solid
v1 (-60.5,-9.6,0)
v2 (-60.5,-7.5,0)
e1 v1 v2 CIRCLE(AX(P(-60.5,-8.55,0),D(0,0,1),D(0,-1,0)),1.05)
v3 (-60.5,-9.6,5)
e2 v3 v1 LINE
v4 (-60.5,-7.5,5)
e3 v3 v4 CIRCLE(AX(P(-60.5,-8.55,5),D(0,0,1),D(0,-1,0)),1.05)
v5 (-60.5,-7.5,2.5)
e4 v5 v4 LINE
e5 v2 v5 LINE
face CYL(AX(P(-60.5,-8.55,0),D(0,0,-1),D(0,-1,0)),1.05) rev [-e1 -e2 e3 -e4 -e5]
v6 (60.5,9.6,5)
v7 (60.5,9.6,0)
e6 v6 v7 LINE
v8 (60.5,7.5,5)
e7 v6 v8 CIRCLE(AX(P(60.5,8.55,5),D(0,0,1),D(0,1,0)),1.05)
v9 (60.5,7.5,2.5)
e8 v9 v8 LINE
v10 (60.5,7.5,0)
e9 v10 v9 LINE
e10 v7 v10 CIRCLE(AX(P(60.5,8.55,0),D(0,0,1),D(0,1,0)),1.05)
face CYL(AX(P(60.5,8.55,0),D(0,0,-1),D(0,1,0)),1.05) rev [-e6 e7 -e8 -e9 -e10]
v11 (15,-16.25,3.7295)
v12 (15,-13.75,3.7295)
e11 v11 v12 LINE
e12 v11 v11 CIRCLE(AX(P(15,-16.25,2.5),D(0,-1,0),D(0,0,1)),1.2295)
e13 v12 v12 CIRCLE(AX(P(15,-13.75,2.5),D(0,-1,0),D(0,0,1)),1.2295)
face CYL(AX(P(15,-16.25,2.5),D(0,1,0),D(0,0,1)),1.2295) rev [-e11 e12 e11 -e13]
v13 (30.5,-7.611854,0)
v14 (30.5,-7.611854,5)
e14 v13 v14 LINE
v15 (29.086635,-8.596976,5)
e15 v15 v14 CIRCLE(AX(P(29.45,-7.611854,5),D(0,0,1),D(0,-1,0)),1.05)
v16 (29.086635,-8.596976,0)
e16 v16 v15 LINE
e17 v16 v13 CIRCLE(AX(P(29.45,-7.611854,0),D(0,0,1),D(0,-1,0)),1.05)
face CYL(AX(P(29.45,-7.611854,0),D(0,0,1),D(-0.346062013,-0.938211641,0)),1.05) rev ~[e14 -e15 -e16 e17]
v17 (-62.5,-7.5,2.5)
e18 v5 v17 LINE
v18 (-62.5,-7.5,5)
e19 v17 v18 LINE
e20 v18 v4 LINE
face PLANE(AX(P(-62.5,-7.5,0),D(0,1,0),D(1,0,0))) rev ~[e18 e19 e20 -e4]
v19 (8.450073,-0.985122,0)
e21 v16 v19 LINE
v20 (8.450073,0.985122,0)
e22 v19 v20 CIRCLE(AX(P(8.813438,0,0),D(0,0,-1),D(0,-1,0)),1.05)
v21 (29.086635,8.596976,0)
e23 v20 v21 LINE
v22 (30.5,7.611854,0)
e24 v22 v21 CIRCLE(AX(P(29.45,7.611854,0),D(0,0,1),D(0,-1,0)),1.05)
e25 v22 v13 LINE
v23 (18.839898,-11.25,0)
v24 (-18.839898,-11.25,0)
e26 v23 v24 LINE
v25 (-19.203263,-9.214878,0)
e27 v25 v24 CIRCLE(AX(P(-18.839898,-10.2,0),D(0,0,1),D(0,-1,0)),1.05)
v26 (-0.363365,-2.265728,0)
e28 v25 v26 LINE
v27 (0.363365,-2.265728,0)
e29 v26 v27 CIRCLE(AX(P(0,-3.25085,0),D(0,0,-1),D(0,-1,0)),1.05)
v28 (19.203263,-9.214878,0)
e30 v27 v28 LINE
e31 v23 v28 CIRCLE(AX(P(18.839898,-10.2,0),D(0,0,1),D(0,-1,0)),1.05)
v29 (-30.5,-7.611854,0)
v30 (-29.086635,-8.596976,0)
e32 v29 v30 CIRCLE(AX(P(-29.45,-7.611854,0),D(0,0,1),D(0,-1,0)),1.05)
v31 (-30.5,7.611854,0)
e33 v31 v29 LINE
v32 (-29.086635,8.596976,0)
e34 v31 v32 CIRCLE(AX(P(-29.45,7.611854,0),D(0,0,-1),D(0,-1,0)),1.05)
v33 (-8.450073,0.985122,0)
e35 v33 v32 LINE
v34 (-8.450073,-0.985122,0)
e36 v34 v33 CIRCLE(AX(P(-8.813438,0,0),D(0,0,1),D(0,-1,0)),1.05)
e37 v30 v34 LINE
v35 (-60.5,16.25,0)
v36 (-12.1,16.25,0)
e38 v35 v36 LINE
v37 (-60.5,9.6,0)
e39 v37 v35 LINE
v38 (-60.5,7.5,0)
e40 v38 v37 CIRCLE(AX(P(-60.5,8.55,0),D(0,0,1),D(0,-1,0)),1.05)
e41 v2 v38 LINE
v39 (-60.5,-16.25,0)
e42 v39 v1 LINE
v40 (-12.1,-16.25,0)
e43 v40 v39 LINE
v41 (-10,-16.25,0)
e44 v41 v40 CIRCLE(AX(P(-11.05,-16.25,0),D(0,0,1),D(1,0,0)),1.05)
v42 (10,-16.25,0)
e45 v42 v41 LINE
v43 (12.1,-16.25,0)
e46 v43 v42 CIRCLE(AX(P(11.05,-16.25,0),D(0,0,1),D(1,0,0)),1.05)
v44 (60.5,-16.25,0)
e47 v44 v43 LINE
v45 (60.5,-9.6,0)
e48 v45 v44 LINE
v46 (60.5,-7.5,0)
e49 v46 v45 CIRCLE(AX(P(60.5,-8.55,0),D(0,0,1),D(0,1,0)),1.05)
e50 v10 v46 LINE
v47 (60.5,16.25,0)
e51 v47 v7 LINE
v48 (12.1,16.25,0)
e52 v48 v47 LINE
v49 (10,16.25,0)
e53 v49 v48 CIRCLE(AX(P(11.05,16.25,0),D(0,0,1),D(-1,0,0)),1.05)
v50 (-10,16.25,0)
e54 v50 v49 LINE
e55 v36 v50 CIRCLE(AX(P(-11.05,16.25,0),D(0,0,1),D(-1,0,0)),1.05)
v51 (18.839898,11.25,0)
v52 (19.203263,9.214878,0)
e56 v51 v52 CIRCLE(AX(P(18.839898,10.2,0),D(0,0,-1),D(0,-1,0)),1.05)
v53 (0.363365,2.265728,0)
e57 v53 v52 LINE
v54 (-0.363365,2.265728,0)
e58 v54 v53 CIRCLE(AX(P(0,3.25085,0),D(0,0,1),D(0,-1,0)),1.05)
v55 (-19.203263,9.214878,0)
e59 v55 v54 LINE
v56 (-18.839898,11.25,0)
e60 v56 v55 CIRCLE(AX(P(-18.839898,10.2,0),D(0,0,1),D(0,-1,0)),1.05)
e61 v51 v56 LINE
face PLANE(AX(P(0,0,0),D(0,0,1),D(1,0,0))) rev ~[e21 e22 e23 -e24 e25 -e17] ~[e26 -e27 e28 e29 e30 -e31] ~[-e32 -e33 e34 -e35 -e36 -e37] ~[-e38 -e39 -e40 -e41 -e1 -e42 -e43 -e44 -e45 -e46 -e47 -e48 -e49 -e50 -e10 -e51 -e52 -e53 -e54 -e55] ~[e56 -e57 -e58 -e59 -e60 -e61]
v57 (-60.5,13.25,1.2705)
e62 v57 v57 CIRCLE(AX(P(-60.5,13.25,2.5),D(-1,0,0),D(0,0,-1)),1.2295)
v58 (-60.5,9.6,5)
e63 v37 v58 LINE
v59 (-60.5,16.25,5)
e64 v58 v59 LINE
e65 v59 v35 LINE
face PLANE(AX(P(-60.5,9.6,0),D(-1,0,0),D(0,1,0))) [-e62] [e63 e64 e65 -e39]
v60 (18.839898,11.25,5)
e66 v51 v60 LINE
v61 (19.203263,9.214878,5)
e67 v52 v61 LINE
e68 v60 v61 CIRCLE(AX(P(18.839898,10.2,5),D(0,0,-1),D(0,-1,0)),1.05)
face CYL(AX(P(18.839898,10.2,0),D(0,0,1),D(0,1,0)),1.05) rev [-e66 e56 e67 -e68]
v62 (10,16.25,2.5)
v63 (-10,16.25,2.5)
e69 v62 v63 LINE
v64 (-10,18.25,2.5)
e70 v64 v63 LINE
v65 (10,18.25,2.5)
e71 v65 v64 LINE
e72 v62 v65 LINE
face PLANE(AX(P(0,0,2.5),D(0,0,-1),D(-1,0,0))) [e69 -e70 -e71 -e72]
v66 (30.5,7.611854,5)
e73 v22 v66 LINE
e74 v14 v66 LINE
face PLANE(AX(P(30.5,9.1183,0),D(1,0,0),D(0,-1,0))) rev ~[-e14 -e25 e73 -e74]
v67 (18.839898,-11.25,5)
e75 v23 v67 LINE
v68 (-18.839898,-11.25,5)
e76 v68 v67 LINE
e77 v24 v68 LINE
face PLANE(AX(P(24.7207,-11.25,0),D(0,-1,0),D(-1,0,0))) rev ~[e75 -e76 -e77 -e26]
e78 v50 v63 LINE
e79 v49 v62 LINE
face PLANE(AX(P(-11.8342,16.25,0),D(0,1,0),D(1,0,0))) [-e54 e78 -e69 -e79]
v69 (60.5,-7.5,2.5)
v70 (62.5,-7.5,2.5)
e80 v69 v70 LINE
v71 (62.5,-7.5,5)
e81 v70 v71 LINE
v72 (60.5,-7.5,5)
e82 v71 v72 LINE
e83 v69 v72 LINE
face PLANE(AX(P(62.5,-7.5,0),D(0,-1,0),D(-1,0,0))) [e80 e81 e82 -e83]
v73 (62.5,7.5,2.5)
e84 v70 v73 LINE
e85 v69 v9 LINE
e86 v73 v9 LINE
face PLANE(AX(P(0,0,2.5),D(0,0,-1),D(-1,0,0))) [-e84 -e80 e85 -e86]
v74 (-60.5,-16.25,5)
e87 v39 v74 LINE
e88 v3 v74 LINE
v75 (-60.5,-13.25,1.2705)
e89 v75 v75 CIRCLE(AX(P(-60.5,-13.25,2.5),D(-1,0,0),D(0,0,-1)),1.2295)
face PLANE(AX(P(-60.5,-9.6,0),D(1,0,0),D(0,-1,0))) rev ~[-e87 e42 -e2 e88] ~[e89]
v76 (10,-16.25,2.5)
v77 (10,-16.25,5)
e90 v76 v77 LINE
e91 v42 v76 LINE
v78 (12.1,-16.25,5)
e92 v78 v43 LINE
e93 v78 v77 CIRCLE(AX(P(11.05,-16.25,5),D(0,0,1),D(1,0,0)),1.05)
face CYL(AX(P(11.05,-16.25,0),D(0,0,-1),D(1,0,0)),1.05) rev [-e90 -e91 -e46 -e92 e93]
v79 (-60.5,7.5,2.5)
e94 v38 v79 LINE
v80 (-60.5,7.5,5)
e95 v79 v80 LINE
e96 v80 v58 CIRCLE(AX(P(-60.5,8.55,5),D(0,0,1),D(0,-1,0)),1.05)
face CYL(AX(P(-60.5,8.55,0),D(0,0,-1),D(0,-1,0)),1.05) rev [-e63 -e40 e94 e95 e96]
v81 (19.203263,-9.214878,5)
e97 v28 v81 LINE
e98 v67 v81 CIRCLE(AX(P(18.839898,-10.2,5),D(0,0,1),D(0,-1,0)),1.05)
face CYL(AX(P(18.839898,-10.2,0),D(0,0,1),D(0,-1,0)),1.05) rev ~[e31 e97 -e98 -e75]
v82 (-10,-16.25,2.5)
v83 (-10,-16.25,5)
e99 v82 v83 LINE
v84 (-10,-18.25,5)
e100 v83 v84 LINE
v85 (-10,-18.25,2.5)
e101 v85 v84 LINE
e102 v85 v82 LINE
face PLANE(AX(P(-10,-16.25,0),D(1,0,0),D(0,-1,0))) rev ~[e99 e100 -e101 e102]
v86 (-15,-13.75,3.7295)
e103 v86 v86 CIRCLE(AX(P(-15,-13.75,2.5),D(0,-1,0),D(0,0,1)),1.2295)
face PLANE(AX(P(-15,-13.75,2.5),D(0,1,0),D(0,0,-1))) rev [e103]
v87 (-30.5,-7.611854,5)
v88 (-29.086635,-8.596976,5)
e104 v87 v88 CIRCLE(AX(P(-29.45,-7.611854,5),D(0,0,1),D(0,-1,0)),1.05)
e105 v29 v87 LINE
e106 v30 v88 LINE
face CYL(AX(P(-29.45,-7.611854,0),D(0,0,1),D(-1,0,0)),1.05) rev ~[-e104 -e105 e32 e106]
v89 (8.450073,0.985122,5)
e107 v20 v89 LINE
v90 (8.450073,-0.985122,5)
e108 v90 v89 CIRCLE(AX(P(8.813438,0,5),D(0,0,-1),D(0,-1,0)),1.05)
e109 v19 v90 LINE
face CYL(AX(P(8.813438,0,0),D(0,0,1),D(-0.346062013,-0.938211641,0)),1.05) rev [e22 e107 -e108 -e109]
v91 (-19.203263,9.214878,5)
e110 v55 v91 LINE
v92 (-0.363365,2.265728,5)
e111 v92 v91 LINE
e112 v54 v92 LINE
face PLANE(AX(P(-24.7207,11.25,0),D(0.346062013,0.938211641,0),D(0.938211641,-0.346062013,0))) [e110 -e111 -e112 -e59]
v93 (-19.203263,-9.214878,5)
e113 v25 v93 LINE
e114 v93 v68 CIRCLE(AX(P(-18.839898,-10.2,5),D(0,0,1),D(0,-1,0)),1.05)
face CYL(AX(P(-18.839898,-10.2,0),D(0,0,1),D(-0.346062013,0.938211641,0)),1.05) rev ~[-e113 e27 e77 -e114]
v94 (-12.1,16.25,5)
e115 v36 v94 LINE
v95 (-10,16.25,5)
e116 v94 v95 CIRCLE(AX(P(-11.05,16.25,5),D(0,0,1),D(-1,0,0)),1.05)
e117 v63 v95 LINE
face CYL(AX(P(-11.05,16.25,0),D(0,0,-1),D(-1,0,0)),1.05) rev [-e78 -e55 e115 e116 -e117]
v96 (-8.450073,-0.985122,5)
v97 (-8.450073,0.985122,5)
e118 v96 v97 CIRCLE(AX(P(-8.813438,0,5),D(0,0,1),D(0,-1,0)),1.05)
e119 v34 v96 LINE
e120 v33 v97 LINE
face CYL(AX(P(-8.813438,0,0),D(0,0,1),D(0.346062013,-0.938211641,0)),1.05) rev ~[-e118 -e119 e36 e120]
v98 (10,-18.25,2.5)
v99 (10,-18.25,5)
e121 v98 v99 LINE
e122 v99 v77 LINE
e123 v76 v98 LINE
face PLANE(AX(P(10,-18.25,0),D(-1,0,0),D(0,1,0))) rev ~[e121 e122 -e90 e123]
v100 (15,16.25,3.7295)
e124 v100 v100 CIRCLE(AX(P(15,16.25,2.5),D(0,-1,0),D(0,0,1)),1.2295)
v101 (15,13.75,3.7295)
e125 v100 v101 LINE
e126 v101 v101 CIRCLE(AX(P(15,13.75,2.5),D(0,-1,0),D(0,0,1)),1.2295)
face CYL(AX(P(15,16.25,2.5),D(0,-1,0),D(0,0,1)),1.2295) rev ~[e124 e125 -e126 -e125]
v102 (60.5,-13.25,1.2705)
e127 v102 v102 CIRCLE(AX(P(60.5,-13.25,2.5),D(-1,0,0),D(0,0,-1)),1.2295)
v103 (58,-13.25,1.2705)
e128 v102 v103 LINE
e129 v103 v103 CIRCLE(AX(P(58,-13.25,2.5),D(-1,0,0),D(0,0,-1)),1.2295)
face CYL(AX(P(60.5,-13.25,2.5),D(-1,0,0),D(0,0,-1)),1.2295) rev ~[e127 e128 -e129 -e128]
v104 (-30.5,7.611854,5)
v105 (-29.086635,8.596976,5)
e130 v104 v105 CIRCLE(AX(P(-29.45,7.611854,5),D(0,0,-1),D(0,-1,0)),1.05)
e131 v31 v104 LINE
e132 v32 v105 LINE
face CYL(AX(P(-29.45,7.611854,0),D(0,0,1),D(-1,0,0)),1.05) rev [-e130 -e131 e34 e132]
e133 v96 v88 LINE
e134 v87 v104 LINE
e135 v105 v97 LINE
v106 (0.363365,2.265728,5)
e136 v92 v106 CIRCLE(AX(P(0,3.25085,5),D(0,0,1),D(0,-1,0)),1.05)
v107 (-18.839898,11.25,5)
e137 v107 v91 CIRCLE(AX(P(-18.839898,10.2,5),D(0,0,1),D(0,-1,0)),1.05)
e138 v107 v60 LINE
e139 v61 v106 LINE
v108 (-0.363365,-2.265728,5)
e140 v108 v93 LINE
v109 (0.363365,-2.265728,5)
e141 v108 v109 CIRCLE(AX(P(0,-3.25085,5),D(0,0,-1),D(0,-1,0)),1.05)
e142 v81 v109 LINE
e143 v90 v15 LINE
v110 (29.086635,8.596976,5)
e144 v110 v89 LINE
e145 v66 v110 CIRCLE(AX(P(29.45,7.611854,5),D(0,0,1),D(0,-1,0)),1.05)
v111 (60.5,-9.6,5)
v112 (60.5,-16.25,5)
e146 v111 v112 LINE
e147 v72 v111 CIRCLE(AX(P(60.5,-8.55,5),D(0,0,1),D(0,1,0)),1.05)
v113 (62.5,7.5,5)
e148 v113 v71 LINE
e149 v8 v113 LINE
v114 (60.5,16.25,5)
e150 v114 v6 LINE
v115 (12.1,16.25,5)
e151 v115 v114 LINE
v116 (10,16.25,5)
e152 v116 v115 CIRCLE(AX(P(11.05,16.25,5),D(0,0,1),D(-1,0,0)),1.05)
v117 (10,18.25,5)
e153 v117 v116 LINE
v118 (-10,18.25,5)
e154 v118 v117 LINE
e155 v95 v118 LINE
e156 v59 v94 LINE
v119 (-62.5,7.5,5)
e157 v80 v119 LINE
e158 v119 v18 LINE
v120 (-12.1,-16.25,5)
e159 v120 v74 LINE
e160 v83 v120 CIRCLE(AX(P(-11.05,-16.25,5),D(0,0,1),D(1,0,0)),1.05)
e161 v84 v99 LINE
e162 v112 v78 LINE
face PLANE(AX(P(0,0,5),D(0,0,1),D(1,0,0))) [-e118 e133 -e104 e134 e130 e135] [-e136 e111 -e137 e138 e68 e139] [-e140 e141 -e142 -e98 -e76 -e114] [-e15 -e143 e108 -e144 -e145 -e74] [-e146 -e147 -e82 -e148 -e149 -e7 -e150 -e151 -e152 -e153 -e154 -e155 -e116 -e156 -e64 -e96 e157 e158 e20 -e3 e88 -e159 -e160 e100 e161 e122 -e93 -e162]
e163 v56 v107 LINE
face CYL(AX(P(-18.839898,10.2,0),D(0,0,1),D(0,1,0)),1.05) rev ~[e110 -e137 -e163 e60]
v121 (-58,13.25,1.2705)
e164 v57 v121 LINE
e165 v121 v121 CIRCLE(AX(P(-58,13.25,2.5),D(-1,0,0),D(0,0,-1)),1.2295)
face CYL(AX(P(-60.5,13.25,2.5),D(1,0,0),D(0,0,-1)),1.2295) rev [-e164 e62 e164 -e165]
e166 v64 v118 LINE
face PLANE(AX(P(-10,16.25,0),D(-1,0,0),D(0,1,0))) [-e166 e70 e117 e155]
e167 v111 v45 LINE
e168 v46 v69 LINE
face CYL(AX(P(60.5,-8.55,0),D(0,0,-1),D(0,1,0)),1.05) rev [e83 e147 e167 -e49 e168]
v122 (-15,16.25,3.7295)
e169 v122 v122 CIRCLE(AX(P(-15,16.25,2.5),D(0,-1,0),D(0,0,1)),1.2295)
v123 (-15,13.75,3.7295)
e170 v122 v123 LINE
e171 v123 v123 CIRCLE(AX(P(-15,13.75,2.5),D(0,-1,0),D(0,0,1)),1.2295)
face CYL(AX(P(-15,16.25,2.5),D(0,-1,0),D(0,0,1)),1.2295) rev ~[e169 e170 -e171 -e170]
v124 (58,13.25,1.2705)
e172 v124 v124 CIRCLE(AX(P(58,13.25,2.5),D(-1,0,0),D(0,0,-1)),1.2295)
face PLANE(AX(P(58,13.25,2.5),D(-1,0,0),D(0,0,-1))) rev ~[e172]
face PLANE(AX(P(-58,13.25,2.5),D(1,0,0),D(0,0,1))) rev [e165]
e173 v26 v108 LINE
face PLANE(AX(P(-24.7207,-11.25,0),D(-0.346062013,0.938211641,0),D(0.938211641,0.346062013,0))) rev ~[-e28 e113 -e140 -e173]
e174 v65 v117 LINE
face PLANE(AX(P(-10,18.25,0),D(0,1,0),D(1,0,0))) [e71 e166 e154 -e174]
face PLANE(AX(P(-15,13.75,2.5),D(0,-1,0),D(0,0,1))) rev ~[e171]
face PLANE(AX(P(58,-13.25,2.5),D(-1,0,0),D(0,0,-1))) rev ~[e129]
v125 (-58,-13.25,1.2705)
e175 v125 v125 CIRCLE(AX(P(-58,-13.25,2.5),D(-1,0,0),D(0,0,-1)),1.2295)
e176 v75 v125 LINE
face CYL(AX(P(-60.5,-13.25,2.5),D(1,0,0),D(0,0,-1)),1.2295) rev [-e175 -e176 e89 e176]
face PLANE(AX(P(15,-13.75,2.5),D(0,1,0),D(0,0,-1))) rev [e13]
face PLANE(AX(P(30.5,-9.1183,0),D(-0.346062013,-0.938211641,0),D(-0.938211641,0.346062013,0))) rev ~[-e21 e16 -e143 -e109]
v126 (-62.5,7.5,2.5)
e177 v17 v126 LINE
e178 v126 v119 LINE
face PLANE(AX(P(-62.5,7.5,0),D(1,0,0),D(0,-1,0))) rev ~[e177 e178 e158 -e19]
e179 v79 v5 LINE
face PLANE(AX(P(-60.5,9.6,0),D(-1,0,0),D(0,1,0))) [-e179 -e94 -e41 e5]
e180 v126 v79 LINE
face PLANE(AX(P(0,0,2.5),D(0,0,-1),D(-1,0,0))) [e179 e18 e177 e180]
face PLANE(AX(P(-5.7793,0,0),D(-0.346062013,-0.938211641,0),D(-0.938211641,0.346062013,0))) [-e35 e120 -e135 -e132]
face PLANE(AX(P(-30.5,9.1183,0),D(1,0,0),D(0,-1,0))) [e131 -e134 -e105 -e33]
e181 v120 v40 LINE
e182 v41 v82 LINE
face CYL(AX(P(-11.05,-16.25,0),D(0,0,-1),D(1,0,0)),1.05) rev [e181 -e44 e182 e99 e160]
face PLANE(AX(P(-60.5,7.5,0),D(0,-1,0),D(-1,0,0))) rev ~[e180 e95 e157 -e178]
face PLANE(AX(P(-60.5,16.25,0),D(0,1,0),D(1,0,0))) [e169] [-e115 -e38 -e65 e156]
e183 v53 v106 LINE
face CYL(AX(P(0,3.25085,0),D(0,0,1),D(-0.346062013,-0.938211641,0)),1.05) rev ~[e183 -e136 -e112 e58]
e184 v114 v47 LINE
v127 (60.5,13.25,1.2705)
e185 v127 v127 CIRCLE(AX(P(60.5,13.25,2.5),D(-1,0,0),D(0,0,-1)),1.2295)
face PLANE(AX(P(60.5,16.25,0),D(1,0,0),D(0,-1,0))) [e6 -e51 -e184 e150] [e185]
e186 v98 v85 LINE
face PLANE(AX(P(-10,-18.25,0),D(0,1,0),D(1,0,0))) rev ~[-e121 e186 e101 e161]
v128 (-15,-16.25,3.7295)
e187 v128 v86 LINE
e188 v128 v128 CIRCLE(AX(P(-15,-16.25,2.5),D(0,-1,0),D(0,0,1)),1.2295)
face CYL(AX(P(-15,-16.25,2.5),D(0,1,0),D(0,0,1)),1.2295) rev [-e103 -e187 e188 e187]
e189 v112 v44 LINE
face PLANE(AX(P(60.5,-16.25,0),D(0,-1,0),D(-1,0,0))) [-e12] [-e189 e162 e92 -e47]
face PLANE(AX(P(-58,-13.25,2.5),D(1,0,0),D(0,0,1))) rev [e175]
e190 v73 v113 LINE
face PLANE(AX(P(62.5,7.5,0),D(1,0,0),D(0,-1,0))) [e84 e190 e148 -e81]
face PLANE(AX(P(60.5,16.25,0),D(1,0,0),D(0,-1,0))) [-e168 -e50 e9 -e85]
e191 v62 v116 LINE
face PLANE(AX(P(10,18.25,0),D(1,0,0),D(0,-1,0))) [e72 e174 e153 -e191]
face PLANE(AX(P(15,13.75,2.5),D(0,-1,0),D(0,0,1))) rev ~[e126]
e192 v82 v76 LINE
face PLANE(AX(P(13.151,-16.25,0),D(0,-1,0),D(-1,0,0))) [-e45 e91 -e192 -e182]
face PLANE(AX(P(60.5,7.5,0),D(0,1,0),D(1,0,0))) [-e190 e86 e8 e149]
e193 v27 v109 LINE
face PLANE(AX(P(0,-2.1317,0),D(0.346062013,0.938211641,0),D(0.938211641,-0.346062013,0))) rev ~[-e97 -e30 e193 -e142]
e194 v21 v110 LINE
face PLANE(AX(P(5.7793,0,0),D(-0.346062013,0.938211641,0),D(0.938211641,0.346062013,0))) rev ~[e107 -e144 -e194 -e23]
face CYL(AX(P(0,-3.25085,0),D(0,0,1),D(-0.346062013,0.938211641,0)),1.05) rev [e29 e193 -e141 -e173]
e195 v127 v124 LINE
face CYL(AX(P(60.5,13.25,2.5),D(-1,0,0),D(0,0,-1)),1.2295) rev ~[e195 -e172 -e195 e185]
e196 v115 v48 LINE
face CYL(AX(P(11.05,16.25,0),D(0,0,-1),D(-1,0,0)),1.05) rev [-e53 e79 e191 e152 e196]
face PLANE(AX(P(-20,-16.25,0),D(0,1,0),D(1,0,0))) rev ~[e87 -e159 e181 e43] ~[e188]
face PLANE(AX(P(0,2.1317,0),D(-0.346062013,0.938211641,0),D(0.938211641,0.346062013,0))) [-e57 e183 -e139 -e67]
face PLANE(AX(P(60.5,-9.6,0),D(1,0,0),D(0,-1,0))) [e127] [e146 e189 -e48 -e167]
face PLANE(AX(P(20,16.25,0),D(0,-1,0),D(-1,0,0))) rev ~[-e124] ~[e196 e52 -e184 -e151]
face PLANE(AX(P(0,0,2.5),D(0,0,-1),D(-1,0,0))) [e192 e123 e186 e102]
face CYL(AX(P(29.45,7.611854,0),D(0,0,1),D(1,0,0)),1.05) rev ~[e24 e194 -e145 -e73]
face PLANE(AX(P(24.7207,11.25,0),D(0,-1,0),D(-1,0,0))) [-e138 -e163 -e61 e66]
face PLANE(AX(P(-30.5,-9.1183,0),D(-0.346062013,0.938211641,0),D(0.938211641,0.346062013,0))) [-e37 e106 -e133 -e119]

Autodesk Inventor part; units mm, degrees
ref_plane "YZ Plane" through (0, 0, 0) normal (1, 0, 0) x (0, 1, 0)
ref_plane "XZ Plane" through (0, 0, 0) normal (0, 1, 0) x (-1, 0, 0)
ref_plane "XY Plane" through (0, 0, 0) normal (0, 0, 1) x (1, 0, 0)
sketch "スケッチ1" plane through (0, 0, 0) normal (0, 0, 1) x (1, 0, 0)
  line L0 (-60.5, 9.6) -> (-60.5, 16.25)
  line L1 (-60.5, 16.25) -> (-20, 16.25)
  line L2 (20, 16.25) -> (60.5, 16.25)
  line L3 (60.5, 16.25) -> (60.5, 9.6)
  line L4 (0, 0) -> (0, 16.25) construction
  line L5 (0, 0) -> (62.5, 0) construction
  line L6 (60.5, 7.5) -> (62.5, 7.5)
  line L7 (62.5, 7.5) -> (62.5, -7.5)
  line L8 (62.5, -7.5) -> (60.5, -7.5)
  line L9 (-20, -16.25) -> (20, -16.25) construction
  line L10 (20, -16.25) -> (20, 16.25) construction
  line L11 (20, 16.25) -> (-20, 16.25) construction
  line L12 (-20, 16.25) -> (-20, -16.25) construction
  line L13 (-20, -16.25) -> (20, 16.25) construction
  line L14 (20, -16.25) -> (-20, 16.25) construction
  line L15 (-60.5, -16.25) -> (60.5, -16.25) construction
  line L16 (60.5, -16.25) -> (60.5, 16.25) construction
  line L17 (60.5, 16.25) -> (-60.5, 16.25) construction
  line L18 (-60.5, 16.25) -> (-60.5, -16.25) construction
  line L19 (-60.5, -16.25) -> (60.5, 16.25) construction
  line L20 (60.5, -16.25) -> (-60.5, 16.25) construction
  arc A0 (60.5, 9.6) -> (60.5, 7.5) centre (60.5, 8.55) ccw
  arc A1 (60.5, -7.5) -> (60.5, -9.6) centre (60.5, -8.55) ccw
  line L21 (60.5, -9.6) -> (60.5, -16.25)
  line L22 (60.5, -16.25) -> (20, -16.25)
  line L23 (20, -16.25) -> (12.1, -16.25)
  line L24 (-20, 16.25) -> (-12.1, 16.25)
  line L25 (-10, 16.25) -> (-10, 18.25)
  line L26 (-10, 18.25) -> (10, 18.25)
  line L27 (10, 18.25) -> (10, 16.25)
  line L28 (20, 16.25) -> (12.1, 16.25)
  arc A2 (-12.1, 16.25) -> (-10, 16.25) centre (-11.05, 16.25) ccw
  arc A3 (10, 16.25) -> (12.1, 16.25) centre (11.05, 16.25) ccw
  line L29 (-60.5, 7.5) -> (-62.5, 7.5)
  line L30 (-62.5, 7.5) -> (-62.5, -7.5)
  line L31 (-62.5, -7.5) -> (-60.5, -7.5)
  arc A4 (-60.5, 7.5) -> (-60.5, 9.6) centre (-60.5, 8.55) ccw
  arc A5 (-60.5, -9.6) -> (-60.5, -7.5) centre (-60.5, -8.55) ccw
  line L32 (-60.5, -9.6) -> (-60.5, -16.25)
  line L33 (-60.5, -16.25) -> (-20, -16.25)
  line L34 (-20, -16.25) -> (-12.1, -16.25)
  line L35 (-10, -16.25) -> (-10, -18.25)
  line L36 (-10, -18.25) -> (10, -18.25)
  line L37 (10, -18.25) -> (10, -16.25)
  arc A6 (-10, -16.25) -> (-12.1, -16.25) centre (-11.05, -16.25) ccw
  arc A7 (12.1, -16.25) -> (10, -16.25) centre (11.05, -16.25) ccw
  line L38 (-16.55, 19.1799) -> (-13.45, 19.1799) construction
  line L39 (-13.45, 19.1799) -> (-13.45, 12.4242) construction
  line L40 (-13.45, 12.4242) -> (-16.55, 12.4242) construction
  line L41 (-16.55, 12.4242) -> (-16.55, 19.1799) construction
  line L42 (-15, 19.1799) -> (-15, 12.4242) construction
  point P0 (0, 18.25)
  point P1 (0, 0)
  dimension "d0" = 1.05
  dimension "d1" = 32.5
  dimension "d2" = 121
  dimension "d3" = 40
  dimension "d23" = 2
  dimension "d30" = 2
  dimension "d34" = 8.75
  dimension "d53" = 20
  dimension "d54" = 3.1
  dimension "d55" = 5
  dimension "d85" = 32.5
extrude "押し出し1" add sketch "スケッチ1" along normal blind 5
sketch "スケッチ2" plane through (0, 0, 0) normal (0, 0, -1) x (-1, 0, 0)
  line L0 (60.5, 9.6) -> (60.5, 16.25) projected
  line L1 (-60.5, 16.25) -> (-60.5, 9.6) projected
  line L2 (-68.6427, 17.3125) -> (-60.5, 17.3125)
  line L3 (-60.5, 17.3125) -> (-60.5, -16.751)
  line L4 (-60.5, -16.751) -> (-68.6427, -16.751)
  line L5 (-68.6427, -16.751) -> (-68.6427, 17.3125)
  line L6 (60.5, 21.1805) -> (66.358, 21.1805)
  line L7 (66.358, 21.1805) -> (66.358, -13.6193)
  line L8 (66.358, -13.6193) -> (60.5, -13.6193)
  line L9 (60.5, -13.6193) -> (60.5, 21.1805)
  line L10 (-20, -16.25) -> (-12.1, -16.25)
  line L11 (-17.1371, 25.1848) -> (11.8342, 25.1848)
  line L12 (11.8342, 25.1848) -> (11.8342, 16.25)
  line L13 (11.8342, 16.25) -> (-17.1371, 16.25)
  line L14 (-17.1371, 16.25) -> (-17.1371, 25.1848)
  line L15 (-13.151, -21.5857) -> (17.7795, -21.5857)
  line L16 (17.7795, -21.5857) -> (17.7795, -16.25)
  line L17 (17.7795, -16.25) -> (-13.151, -16.25)
  line L18 (-13.151, -16.25) -> (-13.151, -21.5857)
  line L19 (-12.1, 16.25) -> (-60.5, 16.25)
  line L20 (-60.5, -16.25) -> (-12.1, -16.25)
  point P0 (0, 0)
extrude "押し出し2" cut sketch "スケッチ2" against normal blind 2.5
sketch "スケッチ3" plane through (12.1, 16.25, 0) normal (0, 1, 0) x (1, 0, 0)
  line L0 (-2.1, 0) -> (-2.1, -5) projected
  line L1 (-2.1, -5) -> (-22.1, -5) construction
  line L2 (-12.1, -5) -> (-12.1, 7.4607) construction
  line L3 (48.4, 0) -> (48.4, -5) projected
  point P0 (-12.1, 0)
  point P1 (2.9, -2.5)
  point P2 (-27.1, -2.5)
  point P3 (48.4, -2.5)
  dimension "d60" = 5
hole "穴1" at (15, 16.25, 2.5) at (-15, 16.25, 2.5) direction (0, -1, 0) diameter 2.459 depth 2.5 thread size "M3x0.5" class "6H" standard "ISO Metric profile"
mirror "ミラー1" about plane through (0, 0, 0) normal (0, 1, 0) of "穴1"
sketch "スケッチ4" plane through (60.5, -16.25, 5) normal (1, 0, 0) x (0, 0, -1)
  line L0 (5, 16.25) -> (0, 16.25) construction
  line L1 (0, 23.75) -> (0, 8.75) construction
  line L2 (5, 6.65) -> (0, 6.65) projected
  line L3 (5, 0) -> (0, 0) projected
  point P0 (2.5, 3)
  point P1 (2.5, 29.5)
  point P2 (2.5, 6.65)
  dimension "d86" = 3
  dimension "d87" = 26.5
hole "穴2" at (60.5, -13.25, 2.5) at (60.5, 13.25, 2.5) direction (-1, 0, 0) diameter 2.459 depth 2.5 thread size "M3x0.5" class "6H" standard "ISO Metric profile"
mirror "ミラー2" about plane through (0, 0, 0) normal (1, 0, 0) of "穴2"
sketch "スケッチ5" plane through (0, 0, 0) normal (0, 0, -1) x (-1, 0, 0)
  line L0 (10, 16.25) -> (-10, 16.25) projected
  line L1 (-60.5, 7.5) -> (-60.5, 9.6) projected
  line L2 (-30.5, -11.25) -> (30.5, -11.25) construction
  line L3 (30.5, -11.25) -> (30.5, 11.25) construction
  line L4 (30.5, 11.25) -> (-30.5, 11.25) construction
  line L5 (-30.5, 11.25) -> (-30.5, -11.25) construction
  line L6 (-30.5, -11.25) -> (30.5, 11.25) construction
  line L7 (30.5, -11.25) -> (-30.5, 11.25) construction
  line L8 (-30.5, 9.1183) -> (-30.5, -9.1183)
  line L9 (-30.5, -9.1183) -> (-5.7793, 0)
  line L10 (-5.7793, 0) -> (-30.5, 9.1183)
  line L11 (-24.7207, 11.25) -> (24.7207, 11.25)
  line L12 (24.7207, 11.25) -> (0, 2.1317)
  line L13 (0, 2.1317) -> (-24.7207, 11.25)
  line L14 (-24.7207, -11.25) -> (24.7207, -11.25)
  line L15 (24.7207, -11.25) -> (0, -2.1317)
  line L16 (0, -2.1317) -> (-24.7207, -11.25)
  line L17 (30.5, 9.1183) -> (30.5, -9.1183)
  line L18 (30.5, -9.1183) -> (5.7793, 0)
  line L19 (5.7793, 0) -> (30.5, 9.1183)
  point P0 (-12.1, 16.25)
  point P1 (-20, 16.25)
  point P2 (-60.5, 16.25)
  point P3 (0, 0)
  dimension "d76" = 5
  dimension "d77" = 30
  dimension "d78" = 4
  dimension "d79" = 4
  dimension "d80" = 4
  dimension "d81" = 4
extrude "押し出し3" cut sketch "スケッチ5" against normal blind 10
fillet "フィレット1" radius 1.05 12 edges at (30.5, 9.1183, 2.5) (30.5, -9.1183, 2.5) (24.7207, 11.25, 2.5) (5.7793, 0, 2.5) (0, -2.1317, 2.5) (0, 2.1317, 2.5) (-30.5, -9.1183, 2.5) (24.7207, -11.25, 2.5) (-30.5, 9.1183, 2.5) (-24.7207, 11.25, 2.5) (-24.7207, -11.25, 2.5) (-5.7793, 0, 2.5)
equation "\"d85\" = d1"
equation "\"d60\" = d55"
equation "\"d79\" = d78"
equation "\"d80\" = d79"
equation "\"d81\" = d78"
equation "\"d48\" = 26.5"
equation "\"d52\" = 5"
properties part number "Trunk_chest_back_forth_frame" material "アセタール樹脂、黒"
